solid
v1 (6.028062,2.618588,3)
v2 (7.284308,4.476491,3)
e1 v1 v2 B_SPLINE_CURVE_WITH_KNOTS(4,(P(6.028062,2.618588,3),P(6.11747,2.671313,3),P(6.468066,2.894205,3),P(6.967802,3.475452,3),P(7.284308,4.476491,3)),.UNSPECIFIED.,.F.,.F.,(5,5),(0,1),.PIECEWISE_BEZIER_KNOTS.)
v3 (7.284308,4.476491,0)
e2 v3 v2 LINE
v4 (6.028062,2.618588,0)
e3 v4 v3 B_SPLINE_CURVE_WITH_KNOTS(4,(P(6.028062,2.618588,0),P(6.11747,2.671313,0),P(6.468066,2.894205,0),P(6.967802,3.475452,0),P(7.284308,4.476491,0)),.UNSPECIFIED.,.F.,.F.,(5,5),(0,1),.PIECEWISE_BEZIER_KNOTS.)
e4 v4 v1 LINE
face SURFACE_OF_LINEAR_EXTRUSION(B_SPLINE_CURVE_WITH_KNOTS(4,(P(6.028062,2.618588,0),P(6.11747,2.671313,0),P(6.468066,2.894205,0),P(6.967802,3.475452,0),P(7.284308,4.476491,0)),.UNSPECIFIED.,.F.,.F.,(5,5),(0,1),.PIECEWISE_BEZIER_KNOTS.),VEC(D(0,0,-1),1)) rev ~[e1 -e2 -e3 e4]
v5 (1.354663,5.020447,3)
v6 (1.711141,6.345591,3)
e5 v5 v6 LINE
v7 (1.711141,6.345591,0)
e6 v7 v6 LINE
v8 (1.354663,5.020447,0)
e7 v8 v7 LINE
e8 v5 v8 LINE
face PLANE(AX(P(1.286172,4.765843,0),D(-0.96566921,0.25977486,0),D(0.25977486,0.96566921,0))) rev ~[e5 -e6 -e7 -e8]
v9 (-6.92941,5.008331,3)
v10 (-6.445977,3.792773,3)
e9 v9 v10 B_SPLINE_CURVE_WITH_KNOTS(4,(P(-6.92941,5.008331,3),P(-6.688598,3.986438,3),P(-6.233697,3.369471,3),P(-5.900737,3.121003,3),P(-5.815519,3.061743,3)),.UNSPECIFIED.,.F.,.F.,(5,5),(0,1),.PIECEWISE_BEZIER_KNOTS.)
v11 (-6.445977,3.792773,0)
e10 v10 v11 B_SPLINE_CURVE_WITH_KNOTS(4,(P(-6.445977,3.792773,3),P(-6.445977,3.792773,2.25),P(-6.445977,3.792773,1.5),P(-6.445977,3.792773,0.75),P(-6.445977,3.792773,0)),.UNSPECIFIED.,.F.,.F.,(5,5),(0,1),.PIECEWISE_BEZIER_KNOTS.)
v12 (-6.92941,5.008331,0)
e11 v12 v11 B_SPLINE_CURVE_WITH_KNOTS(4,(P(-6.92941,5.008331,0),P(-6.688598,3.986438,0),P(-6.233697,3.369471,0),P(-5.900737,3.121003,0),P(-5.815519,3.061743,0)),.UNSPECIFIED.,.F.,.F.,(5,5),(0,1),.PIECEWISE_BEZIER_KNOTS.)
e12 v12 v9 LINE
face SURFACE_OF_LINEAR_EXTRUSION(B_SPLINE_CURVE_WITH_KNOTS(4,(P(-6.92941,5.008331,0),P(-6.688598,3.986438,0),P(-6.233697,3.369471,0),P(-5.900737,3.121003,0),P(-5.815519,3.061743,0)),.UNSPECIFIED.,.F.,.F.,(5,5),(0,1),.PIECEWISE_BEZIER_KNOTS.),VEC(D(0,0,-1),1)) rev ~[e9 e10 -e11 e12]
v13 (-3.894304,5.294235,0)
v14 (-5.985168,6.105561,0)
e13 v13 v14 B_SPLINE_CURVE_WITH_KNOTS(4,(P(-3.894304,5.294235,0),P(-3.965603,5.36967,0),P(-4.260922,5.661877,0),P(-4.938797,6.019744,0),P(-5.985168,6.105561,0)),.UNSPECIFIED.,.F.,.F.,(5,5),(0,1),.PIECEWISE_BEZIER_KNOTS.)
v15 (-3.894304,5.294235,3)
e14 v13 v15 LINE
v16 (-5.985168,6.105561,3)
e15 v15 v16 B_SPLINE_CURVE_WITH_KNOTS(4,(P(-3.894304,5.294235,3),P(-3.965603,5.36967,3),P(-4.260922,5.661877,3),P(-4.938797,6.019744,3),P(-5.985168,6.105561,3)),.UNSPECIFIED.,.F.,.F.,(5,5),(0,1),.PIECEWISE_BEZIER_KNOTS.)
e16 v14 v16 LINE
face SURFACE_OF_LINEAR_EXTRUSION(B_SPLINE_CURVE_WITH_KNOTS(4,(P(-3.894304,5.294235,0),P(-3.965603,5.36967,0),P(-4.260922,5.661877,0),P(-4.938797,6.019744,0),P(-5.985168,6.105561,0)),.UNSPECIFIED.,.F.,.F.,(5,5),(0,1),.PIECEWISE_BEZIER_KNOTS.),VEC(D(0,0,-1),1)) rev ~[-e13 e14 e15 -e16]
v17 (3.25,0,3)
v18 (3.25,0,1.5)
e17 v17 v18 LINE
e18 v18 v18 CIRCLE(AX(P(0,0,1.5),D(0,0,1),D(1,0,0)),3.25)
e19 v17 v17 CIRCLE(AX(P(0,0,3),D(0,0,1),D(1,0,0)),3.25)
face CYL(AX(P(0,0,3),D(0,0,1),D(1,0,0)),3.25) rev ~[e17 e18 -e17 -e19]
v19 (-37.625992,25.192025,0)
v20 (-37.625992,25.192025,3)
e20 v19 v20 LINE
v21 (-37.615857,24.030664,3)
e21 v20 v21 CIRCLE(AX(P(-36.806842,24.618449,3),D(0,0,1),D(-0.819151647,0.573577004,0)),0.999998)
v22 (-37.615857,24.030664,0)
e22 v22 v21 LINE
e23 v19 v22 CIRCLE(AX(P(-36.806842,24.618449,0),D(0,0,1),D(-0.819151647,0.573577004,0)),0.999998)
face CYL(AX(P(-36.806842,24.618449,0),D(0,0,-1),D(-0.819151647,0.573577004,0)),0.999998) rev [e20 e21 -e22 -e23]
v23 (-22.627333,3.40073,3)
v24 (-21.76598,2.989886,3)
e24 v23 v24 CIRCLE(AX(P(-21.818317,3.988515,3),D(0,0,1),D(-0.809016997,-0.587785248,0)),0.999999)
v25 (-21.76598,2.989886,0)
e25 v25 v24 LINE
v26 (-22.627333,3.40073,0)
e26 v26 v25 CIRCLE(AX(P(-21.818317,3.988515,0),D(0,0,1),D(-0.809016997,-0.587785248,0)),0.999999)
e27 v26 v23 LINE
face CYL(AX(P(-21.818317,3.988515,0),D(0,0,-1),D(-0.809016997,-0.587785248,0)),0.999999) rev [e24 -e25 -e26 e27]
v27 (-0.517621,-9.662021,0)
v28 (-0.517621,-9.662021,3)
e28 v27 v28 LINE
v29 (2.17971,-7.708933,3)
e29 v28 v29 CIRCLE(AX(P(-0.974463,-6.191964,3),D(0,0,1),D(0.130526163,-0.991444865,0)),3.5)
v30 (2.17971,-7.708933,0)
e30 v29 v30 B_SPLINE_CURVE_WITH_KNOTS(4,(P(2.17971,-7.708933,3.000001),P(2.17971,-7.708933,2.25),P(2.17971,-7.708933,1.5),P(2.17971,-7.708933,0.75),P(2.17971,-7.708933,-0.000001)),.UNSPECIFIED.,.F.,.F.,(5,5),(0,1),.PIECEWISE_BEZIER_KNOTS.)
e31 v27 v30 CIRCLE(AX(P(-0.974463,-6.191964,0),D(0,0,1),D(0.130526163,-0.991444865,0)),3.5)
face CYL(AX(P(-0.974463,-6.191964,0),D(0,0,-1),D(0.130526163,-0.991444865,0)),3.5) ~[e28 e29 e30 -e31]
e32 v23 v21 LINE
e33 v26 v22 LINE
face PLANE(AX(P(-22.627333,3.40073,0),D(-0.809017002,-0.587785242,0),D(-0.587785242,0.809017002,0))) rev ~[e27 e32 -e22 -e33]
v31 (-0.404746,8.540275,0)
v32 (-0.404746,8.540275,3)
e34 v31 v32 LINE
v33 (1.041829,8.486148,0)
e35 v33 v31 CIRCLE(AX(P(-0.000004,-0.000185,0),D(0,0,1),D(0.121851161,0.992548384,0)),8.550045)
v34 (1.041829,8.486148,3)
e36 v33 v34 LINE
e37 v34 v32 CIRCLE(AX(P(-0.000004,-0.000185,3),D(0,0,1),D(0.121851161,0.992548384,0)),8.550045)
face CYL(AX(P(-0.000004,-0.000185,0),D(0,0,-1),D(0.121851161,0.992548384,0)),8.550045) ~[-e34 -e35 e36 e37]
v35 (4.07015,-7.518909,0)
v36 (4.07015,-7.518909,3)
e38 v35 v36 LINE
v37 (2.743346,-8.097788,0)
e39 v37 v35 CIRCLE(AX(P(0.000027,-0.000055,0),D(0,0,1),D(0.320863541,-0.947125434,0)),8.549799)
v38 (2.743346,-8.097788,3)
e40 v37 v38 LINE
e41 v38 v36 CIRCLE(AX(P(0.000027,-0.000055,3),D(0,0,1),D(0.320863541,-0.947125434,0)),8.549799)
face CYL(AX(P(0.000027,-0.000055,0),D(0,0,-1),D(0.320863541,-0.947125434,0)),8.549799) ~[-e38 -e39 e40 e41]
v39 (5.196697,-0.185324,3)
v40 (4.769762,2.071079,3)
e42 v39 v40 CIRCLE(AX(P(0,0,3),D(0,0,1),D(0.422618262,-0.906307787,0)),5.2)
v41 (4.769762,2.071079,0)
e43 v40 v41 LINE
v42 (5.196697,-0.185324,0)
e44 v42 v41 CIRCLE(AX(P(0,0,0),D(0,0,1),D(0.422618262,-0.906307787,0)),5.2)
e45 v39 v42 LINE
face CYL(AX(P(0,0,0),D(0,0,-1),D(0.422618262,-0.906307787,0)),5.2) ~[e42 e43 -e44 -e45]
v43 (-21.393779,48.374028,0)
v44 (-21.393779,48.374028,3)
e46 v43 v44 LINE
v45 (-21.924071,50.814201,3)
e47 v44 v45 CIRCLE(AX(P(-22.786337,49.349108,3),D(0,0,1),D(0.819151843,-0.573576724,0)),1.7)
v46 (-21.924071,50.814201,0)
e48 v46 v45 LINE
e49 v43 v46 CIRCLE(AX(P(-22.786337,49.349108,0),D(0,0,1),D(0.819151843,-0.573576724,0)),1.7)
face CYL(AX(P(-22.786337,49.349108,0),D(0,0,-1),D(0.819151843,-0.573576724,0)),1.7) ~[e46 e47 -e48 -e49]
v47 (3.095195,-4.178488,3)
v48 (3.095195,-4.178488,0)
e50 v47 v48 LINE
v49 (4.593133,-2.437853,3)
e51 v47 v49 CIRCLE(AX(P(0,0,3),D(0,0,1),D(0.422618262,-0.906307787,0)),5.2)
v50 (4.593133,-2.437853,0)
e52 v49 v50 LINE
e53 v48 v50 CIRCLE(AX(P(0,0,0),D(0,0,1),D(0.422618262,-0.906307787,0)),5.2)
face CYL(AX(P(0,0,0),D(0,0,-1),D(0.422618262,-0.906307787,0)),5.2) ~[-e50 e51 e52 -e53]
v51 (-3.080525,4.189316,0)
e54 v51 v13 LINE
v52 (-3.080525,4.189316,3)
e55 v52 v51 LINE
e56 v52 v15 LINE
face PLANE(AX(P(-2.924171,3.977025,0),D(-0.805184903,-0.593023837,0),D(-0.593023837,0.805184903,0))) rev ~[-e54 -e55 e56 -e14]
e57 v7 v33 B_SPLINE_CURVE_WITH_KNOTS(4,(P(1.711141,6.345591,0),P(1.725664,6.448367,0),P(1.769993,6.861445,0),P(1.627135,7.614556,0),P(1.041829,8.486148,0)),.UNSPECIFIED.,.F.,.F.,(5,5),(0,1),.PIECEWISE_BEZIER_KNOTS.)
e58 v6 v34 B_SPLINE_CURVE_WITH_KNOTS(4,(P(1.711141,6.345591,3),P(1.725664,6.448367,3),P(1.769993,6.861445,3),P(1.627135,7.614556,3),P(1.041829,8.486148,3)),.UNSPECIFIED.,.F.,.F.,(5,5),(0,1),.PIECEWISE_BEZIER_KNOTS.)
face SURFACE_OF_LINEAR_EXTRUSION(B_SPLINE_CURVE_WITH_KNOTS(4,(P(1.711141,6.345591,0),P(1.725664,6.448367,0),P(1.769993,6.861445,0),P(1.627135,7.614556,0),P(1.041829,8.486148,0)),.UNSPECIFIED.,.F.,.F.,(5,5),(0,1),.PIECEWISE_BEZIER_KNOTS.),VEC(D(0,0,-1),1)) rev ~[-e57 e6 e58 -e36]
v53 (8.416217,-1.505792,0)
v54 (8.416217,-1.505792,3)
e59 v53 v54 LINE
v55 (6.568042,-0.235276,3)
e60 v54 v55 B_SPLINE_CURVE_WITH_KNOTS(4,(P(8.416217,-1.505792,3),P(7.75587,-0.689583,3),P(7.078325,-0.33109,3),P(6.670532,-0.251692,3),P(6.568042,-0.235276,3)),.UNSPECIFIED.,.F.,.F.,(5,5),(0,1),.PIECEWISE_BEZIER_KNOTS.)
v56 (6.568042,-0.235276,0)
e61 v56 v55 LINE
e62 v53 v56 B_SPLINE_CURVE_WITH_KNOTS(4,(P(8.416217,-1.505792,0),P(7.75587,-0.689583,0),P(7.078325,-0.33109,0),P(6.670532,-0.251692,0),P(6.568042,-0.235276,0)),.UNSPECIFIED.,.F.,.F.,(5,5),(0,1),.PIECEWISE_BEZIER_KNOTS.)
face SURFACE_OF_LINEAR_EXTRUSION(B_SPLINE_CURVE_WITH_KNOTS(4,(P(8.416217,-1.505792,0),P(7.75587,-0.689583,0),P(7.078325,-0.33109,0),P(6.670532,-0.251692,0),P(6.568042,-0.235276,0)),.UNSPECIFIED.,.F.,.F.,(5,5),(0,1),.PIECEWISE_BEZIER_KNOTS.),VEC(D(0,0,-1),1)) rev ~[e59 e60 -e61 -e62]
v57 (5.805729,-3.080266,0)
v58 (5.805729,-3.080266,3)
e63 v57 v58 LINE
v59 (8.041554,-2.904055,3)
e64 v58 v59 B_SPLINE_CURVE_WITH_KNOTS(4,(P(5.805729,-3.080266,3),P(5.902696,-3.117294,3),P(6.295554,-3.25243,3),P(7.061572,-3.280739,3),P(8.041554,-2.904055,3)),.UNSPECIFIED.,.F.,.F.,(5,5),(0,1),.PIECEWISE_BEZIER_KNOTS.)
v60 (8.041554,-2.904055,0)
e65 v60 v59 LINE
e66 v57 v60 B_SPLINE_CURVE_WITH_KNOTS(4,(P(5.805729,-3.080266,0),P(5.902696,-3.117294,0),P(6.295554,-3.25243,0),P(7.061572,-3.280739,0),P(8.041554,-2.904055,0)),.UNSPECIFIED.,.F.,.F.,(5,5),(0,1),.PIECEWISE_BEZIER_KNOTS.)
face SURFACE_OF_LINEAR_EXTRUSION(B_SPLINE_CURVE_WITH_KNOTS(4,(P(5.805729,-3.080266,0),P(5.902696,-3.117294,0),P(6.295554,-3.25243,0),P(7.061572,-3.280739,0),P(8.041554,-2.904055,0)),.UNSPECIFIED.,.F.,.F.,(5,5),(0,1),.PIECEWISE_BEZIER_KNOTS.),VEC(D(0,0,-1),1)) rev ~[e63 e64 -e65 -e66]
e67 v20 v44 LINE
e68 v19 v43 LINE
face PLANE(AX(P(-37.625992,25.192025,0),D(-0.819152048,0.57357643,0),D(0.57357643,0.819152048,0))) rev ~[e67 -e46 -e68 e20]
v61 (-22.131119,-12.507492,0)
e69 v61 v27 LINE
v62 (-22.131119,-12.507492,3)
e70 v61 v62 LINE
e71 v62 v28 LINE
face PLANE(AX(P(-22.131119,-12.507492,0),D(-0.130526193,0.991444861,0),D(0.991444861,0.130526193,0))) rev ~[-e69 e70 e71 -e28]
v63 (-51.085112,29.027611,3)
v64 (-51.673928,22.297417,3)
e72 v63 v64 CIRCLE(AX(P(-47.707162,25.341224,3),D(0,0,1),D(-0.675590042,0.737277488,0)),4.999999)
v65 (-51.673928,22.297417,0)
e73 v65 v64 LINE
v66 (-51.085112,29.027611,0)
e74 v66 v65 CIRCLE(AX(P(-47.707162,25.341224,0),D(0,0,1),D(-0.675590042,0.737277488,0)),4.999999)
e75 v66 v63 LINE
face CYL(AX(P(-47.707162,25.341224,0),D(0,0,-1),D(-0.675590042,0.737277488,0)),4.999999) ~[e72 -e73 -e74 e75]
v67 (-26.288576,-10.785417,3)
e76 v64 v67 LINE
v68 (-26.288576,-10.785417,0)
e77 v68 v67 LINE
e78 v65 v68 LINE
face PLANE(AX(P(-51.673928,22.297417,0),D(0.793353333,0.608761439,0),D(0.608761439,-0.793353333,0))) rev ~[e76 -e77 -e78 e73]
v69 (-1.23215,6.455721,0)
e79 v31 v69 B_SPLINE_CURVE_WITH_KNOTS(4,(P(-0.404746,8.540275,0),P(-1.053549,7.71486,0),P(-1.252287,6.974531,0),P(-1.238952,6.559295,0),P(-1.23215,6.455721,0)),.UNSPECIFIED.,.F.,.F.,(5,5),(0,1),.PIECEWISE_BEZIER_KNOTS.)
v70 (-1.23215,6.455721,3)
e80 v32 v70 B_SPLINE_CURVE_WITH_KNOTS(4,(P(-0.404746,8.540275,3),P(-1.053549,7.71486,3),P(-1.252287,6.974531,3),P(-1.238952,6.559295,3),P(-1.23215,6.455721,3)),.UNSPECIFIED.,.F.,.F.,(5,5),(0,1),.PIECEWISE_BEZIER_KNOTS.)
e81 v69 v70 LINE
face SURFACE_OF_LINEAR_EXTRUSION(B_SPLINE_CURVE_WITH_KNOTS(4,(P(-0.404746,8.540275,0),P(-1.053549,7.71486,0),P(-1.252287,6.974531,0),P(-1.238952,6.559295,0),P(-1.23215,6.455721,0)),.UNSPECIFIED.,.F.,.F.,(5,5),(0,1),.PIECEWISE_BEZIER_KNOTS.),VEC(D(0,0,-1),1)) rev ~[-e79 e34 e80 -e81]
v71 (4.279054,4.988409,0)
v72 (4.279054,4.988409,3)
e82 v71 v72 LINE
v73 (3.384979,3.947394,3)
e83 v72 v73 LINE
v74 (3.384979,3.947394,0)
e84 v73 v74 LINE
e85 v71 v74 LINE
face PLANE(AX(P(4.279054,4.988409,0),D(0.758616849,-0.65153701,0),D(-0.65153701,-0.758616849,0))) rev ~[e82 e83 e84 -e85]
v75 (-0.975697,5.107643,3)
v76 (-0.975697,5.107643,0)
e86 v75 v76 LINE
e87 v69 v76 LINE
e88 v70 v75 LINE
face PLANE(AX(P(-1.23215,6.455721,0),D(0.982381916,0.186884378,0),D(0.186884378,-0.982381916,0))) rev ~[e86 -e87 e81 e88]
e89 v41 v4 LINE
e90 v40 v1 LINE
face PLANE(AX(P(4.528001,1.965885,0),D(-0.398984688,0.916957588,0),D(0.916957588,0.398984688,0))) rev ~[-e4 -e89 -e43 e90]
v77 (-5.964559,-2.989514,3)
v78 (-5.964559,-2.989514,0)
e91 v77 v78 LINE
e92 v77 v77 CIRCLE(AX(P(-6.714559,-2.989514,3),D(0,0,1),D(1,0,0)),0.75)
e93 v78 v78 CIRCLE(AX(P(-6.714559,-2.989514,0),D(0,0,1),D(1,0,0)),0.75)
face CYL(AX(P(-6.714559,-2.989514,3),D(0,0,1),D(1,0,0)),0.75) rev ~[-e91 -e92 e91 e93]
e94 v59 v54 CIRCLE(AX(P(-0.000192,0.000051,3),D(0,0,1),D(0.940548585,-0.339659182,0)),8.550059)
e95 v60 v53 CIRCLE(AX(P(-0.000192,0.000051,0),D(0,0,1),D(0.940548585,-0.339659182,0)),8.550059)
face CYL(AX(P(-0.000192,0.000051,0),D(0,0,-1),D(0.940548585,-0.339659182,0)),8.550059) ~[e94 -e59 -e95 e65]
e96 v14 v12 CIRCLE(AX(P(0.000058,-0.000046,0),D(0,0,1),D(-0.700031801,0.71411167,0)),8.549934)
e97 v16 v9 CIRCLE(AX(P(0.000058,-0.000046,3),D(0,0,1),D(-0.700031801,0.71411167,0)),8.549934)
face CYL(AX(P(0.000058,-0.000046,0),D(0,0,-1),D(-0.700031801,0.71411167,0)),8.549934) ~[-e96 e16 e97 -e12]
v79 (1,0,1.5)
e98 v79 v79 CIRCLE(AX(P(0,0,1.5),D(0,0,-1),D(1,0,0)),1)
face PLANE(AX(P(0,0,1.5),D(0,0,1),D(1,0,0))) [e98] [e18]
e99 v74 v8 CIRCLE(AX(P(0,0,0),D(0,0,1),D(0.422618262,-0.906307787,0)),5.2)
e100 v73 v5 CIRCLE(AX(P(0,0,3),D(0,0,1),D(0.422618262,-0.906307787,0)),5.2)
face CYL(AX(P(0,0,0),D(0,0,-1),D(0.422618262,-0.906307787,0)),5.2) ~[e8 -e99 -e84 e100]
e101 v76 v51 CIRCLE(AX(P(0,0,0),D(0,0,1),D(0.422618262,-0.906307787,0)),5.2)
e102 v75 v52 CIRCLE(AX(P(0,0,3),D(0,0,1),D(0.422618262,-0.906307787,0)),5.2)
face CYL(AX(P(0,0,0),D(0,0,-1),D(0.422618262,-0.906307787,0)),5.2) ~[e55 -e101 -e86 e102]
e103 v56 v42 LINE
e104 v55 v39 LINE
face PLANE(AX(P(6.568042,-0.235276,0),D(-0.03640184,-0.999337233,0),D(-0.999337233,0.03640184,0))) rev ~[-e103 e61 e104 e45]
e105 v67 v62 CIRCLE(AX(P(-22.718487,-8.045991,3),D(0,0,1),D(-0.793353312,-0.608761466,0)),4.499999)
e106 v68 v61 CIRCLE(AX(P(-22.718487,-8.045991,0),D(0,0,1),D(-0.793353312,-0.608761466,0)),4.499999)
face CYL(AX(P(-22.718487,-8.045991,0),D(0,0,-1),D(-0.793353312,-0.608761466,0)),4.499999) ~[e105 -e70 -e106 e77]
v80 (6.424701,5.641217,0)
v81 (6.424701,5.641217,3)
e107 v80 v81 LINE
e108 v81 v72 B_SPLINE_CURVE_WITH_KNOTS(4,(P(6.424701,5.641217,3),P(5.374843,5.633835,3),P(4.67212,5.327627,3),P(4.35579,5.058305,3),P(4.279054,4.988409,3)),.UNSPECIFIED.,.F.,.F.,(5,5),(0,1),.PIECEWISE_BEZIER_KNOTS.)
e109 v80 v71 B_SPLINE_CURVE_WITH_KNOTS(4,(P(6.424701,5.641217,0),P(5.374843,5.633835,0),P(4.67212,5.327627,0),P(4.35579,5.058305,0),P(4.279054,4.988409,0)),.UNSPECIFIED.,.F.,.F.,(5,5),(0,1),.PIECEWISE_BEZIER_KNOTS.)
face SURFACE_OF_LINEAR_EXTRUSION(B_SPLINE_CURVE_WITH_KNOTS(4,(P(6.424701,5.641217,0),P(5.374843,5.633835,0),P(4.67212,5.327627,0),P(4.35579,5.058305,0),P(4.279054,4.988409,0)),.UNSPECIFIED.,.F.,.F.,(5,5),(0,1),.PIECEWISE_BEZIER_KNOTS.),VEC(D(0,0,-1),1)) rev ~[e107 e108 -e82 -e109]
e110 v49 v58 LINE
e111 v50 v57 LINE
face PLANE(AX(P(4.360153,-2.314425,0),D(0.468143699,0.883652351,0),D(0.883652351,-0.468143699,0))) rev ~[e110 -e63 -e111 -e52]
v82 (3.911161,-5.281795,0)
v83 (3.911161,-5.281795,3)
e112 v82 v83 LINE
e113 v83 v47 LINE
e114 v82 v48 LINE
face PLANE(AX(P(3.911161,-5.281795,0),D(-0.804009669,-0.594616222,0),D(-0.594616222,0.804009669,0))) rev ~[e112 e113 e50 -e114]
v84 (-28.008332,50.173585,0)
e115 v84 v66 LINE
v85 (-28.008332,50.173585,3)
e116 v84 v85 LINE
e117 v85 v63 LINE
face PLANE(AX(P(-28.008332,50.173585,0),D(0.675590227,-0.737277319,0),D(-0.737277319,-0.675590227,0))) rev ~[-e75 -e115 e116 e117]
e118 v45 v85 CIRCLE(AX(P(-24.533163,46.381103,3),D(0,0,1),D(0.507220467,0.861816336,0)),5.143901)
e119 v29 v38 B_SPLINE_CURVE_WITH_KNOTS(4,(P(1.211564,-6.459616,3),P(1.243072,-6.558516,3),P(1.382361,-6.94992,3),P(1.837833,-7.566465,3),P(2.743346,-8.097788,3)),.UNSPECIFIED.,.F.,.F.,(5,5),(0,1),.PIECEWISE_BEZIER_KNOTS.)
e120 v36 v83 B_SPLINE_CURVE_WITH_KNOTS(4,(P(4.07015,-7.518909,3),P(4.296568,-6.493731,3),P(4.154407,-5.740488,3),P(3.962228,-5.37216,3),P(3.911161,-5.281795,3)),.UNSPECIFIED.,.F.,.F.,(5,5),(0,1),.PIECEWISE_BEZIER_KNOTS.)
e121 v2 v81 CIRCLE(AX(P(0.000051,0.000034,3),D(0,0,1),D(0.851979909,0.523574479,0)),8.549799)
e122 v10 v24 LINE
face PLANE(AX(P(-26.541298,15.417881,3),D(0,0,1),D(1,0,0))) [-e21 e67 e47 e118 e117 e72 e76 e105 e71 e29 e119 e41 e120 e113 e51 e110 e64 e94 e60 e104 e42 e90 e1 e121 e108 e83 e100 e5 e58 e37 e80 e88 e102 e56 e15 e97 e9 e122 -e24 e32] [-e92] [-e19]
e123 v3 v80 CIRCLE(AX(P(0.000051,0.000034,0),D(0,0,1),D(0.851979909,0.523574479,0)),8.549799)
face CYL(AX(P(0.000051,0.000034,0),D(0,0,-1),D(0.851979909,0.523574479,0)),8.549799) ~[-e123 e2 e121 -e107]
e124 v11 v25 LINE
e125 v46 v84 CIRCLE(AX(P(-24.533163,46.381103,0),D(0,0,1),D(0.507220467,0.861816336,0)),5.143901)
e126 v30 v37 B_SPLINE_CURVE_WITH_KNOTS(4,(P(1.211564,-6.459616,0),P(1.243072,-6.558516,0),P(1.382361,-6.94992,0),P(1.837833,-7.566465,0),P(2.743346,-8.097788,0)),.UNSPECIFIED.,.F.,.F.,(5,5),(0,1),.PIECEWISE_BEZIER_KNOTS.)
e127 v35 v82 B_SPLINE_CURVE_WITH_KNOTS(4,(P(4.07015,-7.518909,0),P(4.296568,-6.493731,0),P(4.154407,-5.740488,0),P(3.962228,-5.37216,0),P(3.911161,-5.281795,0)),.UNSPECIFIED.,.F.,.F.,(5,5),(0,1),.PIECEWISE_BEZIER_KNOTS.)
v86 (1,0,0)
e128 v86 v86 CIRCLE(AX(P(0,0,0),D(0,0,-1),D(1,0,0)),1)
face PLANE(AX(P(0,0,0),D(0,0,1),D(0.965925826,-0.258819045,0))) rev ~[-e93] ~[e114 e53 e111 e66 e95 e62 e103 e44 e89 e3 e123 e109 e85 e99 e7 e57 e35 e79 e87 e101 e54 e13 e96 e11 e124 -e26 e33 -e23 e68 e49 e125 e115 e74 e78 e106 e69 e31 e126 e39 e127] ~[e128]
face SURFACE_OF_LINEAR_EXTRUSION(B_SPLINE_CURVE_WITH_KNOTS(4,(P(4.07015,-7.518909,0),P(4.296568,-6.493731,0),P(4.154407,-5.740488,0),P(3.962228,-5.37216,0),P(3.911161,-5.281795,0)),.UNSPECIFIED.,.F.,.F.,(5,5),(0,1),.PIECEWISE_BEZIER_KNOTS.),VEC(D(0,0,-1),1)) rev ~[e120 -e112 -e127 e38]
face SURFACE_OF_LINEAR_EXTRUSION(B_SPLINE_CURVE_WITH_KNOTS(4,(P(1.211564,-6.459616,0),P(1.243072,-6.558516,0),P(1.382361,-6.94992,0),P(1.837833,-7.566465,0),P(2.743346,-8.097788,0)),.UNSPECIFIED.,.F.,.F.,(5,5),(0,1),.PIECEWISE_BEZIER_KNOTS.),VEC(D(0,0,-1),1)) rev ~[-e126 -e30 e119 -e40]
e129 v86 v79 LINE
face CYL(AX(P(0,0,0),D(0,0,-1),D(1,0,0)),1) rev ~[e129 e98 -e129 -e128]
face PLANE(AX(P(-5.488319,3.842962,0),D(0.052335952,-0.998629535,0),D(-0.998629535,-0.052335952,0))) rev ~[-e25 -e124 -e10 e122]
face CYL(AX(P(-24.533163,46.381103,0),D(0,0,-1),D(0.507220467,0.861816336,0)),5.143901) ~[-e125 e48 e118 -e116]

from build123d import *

# Parameters (mm, degrees)
PAD_DEPTH                                 = 3
EXTRUDE_DEPTH                             = 3
EXTRUDE_ONTO_INVOLUTEGEAR_PLACEMENT_ANGLE = -15
SKETCH001_R                               = 3.25
POCKET_DEPTH                              = 1.5
SKETCH002_R                               = 1
POCKET001_DEPTH                           = 3.001
SKETCH003_R                               = 0.75
POCKET002_DEPTH                           = 3.001


with BuildPart() as claw_body:
    # Sketch → Pad (new body)
    with BuildSketch(Plane.XY):
        with BuildLine():
            ThreePointArc((2.197615, -4.7128), (3.983431, 3.342496), (-4.259591, 2.982597))
            Line((-5.488319, 3.842962), (-4.259591, 2.982597))
            Line((-5.488319, 3.842962), (-21.76598, 2.989886))
            ThreePointArc((-22.627333, 3.40073), (-22.248827, 3.08593), (-21.76598, 2.989886))
            Line((-22.627333, 3.40073), (-37.615857, 24.030664))
            ThreePointArc((-37.625992, 25.192025), (-37.806802, 24.609722), (-37.615857, 24.030664))
            Line((-37.625992, 25.192025), (-21.393779, 48.374028))
            ThreePointArc((-21.393779, 48.374028), (-21.125112, 49.710122), (-21.924071, 50.814201))
            ThreePointArc((-21.924071, 50.814201), (-25.071791, 51.496726), (-28.008332, 50.173585))
            Line((-28.008332, 50.173585), (-51.085112, 29.027611))
            ThreePointArc((-51.085112, 29.027611), (-52.688135, 25.777003), (-51.673928, 22.297417))
            Line((-51.673928, 22.297417), (-26.288576, -10.785417))
            ThreePointArc((-26.288576, -10.785417), (-24.440562, -12.203448), (-22.131119, -12.507492))
            Line((-22.131119, -12.507492), (-0.517621, -9.662021))
            ThreePointArc((-0.517621, -9.662021), (2.094081, -7.875425), (2.197615, -4.7128))
        make_face()
    extrude(amount=PAD_DEPTH)


with BuildPart() as horn_drill:
    # InvoluteGear as drawn → Extrude (new)
    with BuildSketch(Plane.XY):
        with BuildLine():
            Line((4.810602, -1.107072), (6.405135, -1.472675))
            add(Edge.make_bspline(
                [(6.405135, -1.472675), (6.508382, -1.483345), (6.922829, -1.512197), (7.670072, -1.341281), (8.519169, -0.723794)],
                knots=[0, 0, 0, 0, 0, 1, 1, 1, 1, 1], degree=4))
            ThreePointArc((8.519169, -0.723794), (8.54986, 0), (8.519169, 0.723794))
            add(Edge.make_bspline(
                [(8.519169, 0.723794), (7.670072, 1.341281), (6.922829, 1.512197), (6.508382, 1.483345), (6.405135, 1.472675)],
                knots=[0, 0, 0, 0, 0, 1, 1, 1, 1, 1], degree=4))
            Line((6.405135, 1.472675), (4.810602, 1.107072))
            ThreePointArc((4.810602, 1.107072), (4.31977, 1.170473), (3.988644, 1.538293))
            ThreePointArc((3.988644, 1.538293), (3.851642, 1.854853), (3.689565, 2.159338))
            ThreePointArc((3.689565, 2.159338), (3.608445, 2.647554), (3.864905, 3.070832))
            Line((3.864905, 3.070832), (5.14492, 4.089539))
            add(Edge.make_bspline(
                [(5.14492, 4.089539), (5.217636, 4.163608), (5.498597, 4.469646), (5.830867, 5.160429), (5.8775, 6.209276)],
                knots=[0, 0, 0, 0, 0, 1, 1, 1, 1, 1], degree=4))
            ThreePointArc((5.8775, 6.209276), (5.330751, 6.68455), (4.74573, 7.111832))
            add(Edge.make_bspline(
                [(4.74573, 7.111832), (3.733556, 6.832978), (3.13403, 6.355326), (2.898184, 6.013309), (2.842153, 5.925934)],
                knots=[0, 0, 0, 0, 0, 1, 1, 1, 1, 1], degree=4))
            Line((2.842153, 5.925934), (2.133817, 4.451328))
            ThreePointArc((2.133817, 4.451328), (1.77822, 4.10711), (1.284193, 4.077557))
            ThreePointArc((1.284193, 4.077557), (0.951277, 4.167817), (0.612168, 4.230943))
            ThreePointArc((0.612168, 4.230943), (0.179887, 4.471919), (0.008856, 4.936337))
            Line((0.008856, 4.936337), (0.010475, 6.572246))
            add(Edge.make_bspline(
                [(0.010475, 6.572246), (-0.002097, 6.675279), (-0.066191, 7.085755), (-0.3991, 7.77623), (-1.190047, 8.466635)],
                knots=[0, 0, 0, 0, 0, 1, 1, 1, 1, 1], degree=4))
            ThreePointArc((-1.190047, 8.466635), (-1.902523, 8.335497), (-2.60134, 8.144516))
            add(Edge.make_bspline(
                [(-2.60134, 8.144516), (-3.014403, 7.179304), (-3.014758, 6.412764), (-2.894406, 6.015128), (-2.861029, 5.916844)],
                knots=[0, 0, 0, 0, 0, 1, 1, 1, 1, 1], degree=4))
            Line((-2.861029, 5.916844), (-2.149775, 4.443643))
            ThreePointArc((-2.149775, 4.443643), (-2.102366, 3.951009), (-2.387281, 3.546338))
            ThreePointArc((-2.387281, 3.546338), (-2.665419, 3.34233), (-2.926204, 3.116562))
            ThreePointArc((-2.926204, 3.116562), (-3.384129, 2.928837), (-3.853862, 3.08468))
            Line((-3.853862, 3.08468), (-5.131858, 4.105918))
            add(Edge.make_bspline(
                [(-5.131858, 4.105918), (-5.220251, 4.160329), (-5.581136, 4.366146), (-6.328536, 4.536371), (-7.361464, 4.348444)],
                knots=[0, 0, 0, 0, 0, 1, 1, 1, 1, 1], degree=4))
            ThreePointArc((-7.361464, 4.348444), (-7.703158, 3.709645), (-7.989548, 3.044213))
            add(Edge.make_bspline(
                [(-7.989548, 3.044213), (-7.492456, 2.119467), (-6.893372, 1.64126), (-6.507449, 1.487434), (-6.409797, 1.45225)],
                knots=[0, 0, 0, 0, 0, 1, 1, 1, 1, 1], degree=4))
            Line((-6.409797, 1.45225), (-4.814543, 1.089804))
            ThreePointArc((-4.814543, 1.089804), (-4.399827, 0.819718), (-4.261084, 0.344654))
            ThreePointArc((-4.261084, 0.344654), (-4.275, 0), (-4.261084, -0.344654))
            ThreePointArc((-4.261084, -0.344654), (-4.399827, -0.819718), (-4.814543, -1.089804))
            Line((-4.814543, -1.089804), (-6.409797, -1.45225))
            add(Edge.make_bspline(
                [(-6.409797, -1.45225), (-6.507449, -1.487434), (-6.893372, -1.64126), (-7.492456, -2.119467), (-7.989548, -3.044213)],
                knots=[0, 0, 0, 0, 0, 1, 1, 1, 1, 1], degree=4))
            ThreePointArc((-7.989548, -3.044213), (-7.703158, -3.709645), (-7.361464, -4.348444))
            add(Edge.make_bspline(
                [(-7.361464, -4.348444), (-6.328536, -4.536371), (-5.581136, -4.366146), (-5.220251, -4.160329), (-5.131858, -4.105918)],
                knots=[0, 0, 0, 0, 0, 1, 1, 1, 1, 1], degree=4))
            Line((-5.131858, -4.105918), (-3.853862, -3.08468))
            ThreePointArc((-3.853862, -3.08468), (-3.384129, -2.928837), (-2.926204, -3.116562))
            ThreePointArc((-2.926204, -3.116562), (-2.665419, -3.34233), (-2.387281, -3.546338))
            ThreePointArc((-2.387281, -3.546338), (-2.102366, -3.951009), (-2.149775, -4.443643))
            Line((-2.149775, -4.443643), (-2.861029, -5.916844))
            add(Edge.make_bspline(
                [(-2.861029, -5.916844), (-2.894406, -6.015128), (-3.014758, -6.412764), (-3.014403, -7.179304), (-2.60134, -8.144516)],
                knots=[0, 0, 0, 0, 0, 1, 1, 1, 1, 1], degree=4))
            ThreePointArc((-2.60134, -8.144516), (-1.902523, -8.335497), (-1.190047, -8.466635))
            add(Edge.make_bspline(
                [(-1.190047, -8.466635), (-0.3991, -7.77623), (-0.066191, -7.085755), (-0.002097, -6.675279), (0.010475, -6.572246)],
                knots=[0, 0, 0, 0, 0, 1, 1, 1, 1, 1], degree=4))
            Line((0.010475, -6.572246), (0.008856, -4.936337))
            ThreePointArc((0.008856, -4.936337), (0.179887, -4.471919), (0.612168, -4.230943))
            ThreePointArc((0.612168, -4.230943), (0.951277, -4.167817), (1.284193, -4.077557))
            ThreePointArc((1.284193, -4.077557), (1.77822, -4.10711), (2.133817, -4.451328))
            Line((2.133817, -4.451328), (2.842153, -5.925934))
            add(Edge.make_bspline(
                [(2.842153, -5.925934), (2.898184, -6.013309), (3.13403, -6.355326), (3.733556, -6.832978), (4.74573, -7.111832)],
                knots=[0, 0, 0, 0, 0, 1, 1, 1, 1, 1], degree=4))
            ThreePointArc((4.74573, -7.111832), (5.330751, -6.68455), (5.8775, -6.209276))
            add(Edge.make_bspline(
                [(5.8775, -6.209276), (5.830867, -5.160429), (5.498597, -4.469646), (5.217636, -4.163608), (5.14492, -4.089539)],
                knots=[0, 0, 0, 0, 0, 1, 1, 1, 1, 1], degree=4))
            Line((5.14492, -4.089539), (3.864905, -3.070832))
            ThreePointArc((3.864905, -3.070832), (3.608445, -2.647554), (3.689565, -2.159338))
            ThreePointArc((3.689565, -2.159338), (3.851642, -1.854853), (3.988644, -1.538293))
            ThreePointArc((3.988644, -1.538293), (4.31977, -1.170473), (4.810602, -1.107072))
        make_face()
    extrude(amount=EXTRUDE_DEPTH)


with BuildPart() as horn_drill_1:
    # Extrude onto InvoluteGear placement: moved
    add(horn_drill.part.rotate(Axis((0, 0, 0), (0, 0, 1)), EXTRUDE_ONTO_INVOLUTEGEAR_PLACEMENT_ANGLE))

    # Fusion: union claw-body
    add(claw_body.part)

    # Sketch001 → Pocket (cut)
    with BuildSketch(Plane.XY.offset(3)):
        Circle(SKETCH001_R)
    extrude(amount=-POCKET_DEPTH, mode=Mode.SUBTRACT)

    # Sketch002 → Pocket001 (cut, through all)
    with BuildSketch(Plane(origin=(0, 0, 0), x_dir=(1, 0, 0), z_dir=(0, 0, -1))):
        Circle(SKETCH002_R)
    extrude(amount=-POCKET001_DEPTH, mode=Mode.SUBTRACT)

    # Sketch003 → Pocket002 (cut, through all)
    with BuildSketch(Plane.XY.offset(3)):
        with Locations((-6.714559, -2.989514)):
            Circle(SKETCH003_R)
    extrude(amount=-POCKET002_DEPTH, mode=Mode.SUBTRACT)


solid = horn_drill_1.part
